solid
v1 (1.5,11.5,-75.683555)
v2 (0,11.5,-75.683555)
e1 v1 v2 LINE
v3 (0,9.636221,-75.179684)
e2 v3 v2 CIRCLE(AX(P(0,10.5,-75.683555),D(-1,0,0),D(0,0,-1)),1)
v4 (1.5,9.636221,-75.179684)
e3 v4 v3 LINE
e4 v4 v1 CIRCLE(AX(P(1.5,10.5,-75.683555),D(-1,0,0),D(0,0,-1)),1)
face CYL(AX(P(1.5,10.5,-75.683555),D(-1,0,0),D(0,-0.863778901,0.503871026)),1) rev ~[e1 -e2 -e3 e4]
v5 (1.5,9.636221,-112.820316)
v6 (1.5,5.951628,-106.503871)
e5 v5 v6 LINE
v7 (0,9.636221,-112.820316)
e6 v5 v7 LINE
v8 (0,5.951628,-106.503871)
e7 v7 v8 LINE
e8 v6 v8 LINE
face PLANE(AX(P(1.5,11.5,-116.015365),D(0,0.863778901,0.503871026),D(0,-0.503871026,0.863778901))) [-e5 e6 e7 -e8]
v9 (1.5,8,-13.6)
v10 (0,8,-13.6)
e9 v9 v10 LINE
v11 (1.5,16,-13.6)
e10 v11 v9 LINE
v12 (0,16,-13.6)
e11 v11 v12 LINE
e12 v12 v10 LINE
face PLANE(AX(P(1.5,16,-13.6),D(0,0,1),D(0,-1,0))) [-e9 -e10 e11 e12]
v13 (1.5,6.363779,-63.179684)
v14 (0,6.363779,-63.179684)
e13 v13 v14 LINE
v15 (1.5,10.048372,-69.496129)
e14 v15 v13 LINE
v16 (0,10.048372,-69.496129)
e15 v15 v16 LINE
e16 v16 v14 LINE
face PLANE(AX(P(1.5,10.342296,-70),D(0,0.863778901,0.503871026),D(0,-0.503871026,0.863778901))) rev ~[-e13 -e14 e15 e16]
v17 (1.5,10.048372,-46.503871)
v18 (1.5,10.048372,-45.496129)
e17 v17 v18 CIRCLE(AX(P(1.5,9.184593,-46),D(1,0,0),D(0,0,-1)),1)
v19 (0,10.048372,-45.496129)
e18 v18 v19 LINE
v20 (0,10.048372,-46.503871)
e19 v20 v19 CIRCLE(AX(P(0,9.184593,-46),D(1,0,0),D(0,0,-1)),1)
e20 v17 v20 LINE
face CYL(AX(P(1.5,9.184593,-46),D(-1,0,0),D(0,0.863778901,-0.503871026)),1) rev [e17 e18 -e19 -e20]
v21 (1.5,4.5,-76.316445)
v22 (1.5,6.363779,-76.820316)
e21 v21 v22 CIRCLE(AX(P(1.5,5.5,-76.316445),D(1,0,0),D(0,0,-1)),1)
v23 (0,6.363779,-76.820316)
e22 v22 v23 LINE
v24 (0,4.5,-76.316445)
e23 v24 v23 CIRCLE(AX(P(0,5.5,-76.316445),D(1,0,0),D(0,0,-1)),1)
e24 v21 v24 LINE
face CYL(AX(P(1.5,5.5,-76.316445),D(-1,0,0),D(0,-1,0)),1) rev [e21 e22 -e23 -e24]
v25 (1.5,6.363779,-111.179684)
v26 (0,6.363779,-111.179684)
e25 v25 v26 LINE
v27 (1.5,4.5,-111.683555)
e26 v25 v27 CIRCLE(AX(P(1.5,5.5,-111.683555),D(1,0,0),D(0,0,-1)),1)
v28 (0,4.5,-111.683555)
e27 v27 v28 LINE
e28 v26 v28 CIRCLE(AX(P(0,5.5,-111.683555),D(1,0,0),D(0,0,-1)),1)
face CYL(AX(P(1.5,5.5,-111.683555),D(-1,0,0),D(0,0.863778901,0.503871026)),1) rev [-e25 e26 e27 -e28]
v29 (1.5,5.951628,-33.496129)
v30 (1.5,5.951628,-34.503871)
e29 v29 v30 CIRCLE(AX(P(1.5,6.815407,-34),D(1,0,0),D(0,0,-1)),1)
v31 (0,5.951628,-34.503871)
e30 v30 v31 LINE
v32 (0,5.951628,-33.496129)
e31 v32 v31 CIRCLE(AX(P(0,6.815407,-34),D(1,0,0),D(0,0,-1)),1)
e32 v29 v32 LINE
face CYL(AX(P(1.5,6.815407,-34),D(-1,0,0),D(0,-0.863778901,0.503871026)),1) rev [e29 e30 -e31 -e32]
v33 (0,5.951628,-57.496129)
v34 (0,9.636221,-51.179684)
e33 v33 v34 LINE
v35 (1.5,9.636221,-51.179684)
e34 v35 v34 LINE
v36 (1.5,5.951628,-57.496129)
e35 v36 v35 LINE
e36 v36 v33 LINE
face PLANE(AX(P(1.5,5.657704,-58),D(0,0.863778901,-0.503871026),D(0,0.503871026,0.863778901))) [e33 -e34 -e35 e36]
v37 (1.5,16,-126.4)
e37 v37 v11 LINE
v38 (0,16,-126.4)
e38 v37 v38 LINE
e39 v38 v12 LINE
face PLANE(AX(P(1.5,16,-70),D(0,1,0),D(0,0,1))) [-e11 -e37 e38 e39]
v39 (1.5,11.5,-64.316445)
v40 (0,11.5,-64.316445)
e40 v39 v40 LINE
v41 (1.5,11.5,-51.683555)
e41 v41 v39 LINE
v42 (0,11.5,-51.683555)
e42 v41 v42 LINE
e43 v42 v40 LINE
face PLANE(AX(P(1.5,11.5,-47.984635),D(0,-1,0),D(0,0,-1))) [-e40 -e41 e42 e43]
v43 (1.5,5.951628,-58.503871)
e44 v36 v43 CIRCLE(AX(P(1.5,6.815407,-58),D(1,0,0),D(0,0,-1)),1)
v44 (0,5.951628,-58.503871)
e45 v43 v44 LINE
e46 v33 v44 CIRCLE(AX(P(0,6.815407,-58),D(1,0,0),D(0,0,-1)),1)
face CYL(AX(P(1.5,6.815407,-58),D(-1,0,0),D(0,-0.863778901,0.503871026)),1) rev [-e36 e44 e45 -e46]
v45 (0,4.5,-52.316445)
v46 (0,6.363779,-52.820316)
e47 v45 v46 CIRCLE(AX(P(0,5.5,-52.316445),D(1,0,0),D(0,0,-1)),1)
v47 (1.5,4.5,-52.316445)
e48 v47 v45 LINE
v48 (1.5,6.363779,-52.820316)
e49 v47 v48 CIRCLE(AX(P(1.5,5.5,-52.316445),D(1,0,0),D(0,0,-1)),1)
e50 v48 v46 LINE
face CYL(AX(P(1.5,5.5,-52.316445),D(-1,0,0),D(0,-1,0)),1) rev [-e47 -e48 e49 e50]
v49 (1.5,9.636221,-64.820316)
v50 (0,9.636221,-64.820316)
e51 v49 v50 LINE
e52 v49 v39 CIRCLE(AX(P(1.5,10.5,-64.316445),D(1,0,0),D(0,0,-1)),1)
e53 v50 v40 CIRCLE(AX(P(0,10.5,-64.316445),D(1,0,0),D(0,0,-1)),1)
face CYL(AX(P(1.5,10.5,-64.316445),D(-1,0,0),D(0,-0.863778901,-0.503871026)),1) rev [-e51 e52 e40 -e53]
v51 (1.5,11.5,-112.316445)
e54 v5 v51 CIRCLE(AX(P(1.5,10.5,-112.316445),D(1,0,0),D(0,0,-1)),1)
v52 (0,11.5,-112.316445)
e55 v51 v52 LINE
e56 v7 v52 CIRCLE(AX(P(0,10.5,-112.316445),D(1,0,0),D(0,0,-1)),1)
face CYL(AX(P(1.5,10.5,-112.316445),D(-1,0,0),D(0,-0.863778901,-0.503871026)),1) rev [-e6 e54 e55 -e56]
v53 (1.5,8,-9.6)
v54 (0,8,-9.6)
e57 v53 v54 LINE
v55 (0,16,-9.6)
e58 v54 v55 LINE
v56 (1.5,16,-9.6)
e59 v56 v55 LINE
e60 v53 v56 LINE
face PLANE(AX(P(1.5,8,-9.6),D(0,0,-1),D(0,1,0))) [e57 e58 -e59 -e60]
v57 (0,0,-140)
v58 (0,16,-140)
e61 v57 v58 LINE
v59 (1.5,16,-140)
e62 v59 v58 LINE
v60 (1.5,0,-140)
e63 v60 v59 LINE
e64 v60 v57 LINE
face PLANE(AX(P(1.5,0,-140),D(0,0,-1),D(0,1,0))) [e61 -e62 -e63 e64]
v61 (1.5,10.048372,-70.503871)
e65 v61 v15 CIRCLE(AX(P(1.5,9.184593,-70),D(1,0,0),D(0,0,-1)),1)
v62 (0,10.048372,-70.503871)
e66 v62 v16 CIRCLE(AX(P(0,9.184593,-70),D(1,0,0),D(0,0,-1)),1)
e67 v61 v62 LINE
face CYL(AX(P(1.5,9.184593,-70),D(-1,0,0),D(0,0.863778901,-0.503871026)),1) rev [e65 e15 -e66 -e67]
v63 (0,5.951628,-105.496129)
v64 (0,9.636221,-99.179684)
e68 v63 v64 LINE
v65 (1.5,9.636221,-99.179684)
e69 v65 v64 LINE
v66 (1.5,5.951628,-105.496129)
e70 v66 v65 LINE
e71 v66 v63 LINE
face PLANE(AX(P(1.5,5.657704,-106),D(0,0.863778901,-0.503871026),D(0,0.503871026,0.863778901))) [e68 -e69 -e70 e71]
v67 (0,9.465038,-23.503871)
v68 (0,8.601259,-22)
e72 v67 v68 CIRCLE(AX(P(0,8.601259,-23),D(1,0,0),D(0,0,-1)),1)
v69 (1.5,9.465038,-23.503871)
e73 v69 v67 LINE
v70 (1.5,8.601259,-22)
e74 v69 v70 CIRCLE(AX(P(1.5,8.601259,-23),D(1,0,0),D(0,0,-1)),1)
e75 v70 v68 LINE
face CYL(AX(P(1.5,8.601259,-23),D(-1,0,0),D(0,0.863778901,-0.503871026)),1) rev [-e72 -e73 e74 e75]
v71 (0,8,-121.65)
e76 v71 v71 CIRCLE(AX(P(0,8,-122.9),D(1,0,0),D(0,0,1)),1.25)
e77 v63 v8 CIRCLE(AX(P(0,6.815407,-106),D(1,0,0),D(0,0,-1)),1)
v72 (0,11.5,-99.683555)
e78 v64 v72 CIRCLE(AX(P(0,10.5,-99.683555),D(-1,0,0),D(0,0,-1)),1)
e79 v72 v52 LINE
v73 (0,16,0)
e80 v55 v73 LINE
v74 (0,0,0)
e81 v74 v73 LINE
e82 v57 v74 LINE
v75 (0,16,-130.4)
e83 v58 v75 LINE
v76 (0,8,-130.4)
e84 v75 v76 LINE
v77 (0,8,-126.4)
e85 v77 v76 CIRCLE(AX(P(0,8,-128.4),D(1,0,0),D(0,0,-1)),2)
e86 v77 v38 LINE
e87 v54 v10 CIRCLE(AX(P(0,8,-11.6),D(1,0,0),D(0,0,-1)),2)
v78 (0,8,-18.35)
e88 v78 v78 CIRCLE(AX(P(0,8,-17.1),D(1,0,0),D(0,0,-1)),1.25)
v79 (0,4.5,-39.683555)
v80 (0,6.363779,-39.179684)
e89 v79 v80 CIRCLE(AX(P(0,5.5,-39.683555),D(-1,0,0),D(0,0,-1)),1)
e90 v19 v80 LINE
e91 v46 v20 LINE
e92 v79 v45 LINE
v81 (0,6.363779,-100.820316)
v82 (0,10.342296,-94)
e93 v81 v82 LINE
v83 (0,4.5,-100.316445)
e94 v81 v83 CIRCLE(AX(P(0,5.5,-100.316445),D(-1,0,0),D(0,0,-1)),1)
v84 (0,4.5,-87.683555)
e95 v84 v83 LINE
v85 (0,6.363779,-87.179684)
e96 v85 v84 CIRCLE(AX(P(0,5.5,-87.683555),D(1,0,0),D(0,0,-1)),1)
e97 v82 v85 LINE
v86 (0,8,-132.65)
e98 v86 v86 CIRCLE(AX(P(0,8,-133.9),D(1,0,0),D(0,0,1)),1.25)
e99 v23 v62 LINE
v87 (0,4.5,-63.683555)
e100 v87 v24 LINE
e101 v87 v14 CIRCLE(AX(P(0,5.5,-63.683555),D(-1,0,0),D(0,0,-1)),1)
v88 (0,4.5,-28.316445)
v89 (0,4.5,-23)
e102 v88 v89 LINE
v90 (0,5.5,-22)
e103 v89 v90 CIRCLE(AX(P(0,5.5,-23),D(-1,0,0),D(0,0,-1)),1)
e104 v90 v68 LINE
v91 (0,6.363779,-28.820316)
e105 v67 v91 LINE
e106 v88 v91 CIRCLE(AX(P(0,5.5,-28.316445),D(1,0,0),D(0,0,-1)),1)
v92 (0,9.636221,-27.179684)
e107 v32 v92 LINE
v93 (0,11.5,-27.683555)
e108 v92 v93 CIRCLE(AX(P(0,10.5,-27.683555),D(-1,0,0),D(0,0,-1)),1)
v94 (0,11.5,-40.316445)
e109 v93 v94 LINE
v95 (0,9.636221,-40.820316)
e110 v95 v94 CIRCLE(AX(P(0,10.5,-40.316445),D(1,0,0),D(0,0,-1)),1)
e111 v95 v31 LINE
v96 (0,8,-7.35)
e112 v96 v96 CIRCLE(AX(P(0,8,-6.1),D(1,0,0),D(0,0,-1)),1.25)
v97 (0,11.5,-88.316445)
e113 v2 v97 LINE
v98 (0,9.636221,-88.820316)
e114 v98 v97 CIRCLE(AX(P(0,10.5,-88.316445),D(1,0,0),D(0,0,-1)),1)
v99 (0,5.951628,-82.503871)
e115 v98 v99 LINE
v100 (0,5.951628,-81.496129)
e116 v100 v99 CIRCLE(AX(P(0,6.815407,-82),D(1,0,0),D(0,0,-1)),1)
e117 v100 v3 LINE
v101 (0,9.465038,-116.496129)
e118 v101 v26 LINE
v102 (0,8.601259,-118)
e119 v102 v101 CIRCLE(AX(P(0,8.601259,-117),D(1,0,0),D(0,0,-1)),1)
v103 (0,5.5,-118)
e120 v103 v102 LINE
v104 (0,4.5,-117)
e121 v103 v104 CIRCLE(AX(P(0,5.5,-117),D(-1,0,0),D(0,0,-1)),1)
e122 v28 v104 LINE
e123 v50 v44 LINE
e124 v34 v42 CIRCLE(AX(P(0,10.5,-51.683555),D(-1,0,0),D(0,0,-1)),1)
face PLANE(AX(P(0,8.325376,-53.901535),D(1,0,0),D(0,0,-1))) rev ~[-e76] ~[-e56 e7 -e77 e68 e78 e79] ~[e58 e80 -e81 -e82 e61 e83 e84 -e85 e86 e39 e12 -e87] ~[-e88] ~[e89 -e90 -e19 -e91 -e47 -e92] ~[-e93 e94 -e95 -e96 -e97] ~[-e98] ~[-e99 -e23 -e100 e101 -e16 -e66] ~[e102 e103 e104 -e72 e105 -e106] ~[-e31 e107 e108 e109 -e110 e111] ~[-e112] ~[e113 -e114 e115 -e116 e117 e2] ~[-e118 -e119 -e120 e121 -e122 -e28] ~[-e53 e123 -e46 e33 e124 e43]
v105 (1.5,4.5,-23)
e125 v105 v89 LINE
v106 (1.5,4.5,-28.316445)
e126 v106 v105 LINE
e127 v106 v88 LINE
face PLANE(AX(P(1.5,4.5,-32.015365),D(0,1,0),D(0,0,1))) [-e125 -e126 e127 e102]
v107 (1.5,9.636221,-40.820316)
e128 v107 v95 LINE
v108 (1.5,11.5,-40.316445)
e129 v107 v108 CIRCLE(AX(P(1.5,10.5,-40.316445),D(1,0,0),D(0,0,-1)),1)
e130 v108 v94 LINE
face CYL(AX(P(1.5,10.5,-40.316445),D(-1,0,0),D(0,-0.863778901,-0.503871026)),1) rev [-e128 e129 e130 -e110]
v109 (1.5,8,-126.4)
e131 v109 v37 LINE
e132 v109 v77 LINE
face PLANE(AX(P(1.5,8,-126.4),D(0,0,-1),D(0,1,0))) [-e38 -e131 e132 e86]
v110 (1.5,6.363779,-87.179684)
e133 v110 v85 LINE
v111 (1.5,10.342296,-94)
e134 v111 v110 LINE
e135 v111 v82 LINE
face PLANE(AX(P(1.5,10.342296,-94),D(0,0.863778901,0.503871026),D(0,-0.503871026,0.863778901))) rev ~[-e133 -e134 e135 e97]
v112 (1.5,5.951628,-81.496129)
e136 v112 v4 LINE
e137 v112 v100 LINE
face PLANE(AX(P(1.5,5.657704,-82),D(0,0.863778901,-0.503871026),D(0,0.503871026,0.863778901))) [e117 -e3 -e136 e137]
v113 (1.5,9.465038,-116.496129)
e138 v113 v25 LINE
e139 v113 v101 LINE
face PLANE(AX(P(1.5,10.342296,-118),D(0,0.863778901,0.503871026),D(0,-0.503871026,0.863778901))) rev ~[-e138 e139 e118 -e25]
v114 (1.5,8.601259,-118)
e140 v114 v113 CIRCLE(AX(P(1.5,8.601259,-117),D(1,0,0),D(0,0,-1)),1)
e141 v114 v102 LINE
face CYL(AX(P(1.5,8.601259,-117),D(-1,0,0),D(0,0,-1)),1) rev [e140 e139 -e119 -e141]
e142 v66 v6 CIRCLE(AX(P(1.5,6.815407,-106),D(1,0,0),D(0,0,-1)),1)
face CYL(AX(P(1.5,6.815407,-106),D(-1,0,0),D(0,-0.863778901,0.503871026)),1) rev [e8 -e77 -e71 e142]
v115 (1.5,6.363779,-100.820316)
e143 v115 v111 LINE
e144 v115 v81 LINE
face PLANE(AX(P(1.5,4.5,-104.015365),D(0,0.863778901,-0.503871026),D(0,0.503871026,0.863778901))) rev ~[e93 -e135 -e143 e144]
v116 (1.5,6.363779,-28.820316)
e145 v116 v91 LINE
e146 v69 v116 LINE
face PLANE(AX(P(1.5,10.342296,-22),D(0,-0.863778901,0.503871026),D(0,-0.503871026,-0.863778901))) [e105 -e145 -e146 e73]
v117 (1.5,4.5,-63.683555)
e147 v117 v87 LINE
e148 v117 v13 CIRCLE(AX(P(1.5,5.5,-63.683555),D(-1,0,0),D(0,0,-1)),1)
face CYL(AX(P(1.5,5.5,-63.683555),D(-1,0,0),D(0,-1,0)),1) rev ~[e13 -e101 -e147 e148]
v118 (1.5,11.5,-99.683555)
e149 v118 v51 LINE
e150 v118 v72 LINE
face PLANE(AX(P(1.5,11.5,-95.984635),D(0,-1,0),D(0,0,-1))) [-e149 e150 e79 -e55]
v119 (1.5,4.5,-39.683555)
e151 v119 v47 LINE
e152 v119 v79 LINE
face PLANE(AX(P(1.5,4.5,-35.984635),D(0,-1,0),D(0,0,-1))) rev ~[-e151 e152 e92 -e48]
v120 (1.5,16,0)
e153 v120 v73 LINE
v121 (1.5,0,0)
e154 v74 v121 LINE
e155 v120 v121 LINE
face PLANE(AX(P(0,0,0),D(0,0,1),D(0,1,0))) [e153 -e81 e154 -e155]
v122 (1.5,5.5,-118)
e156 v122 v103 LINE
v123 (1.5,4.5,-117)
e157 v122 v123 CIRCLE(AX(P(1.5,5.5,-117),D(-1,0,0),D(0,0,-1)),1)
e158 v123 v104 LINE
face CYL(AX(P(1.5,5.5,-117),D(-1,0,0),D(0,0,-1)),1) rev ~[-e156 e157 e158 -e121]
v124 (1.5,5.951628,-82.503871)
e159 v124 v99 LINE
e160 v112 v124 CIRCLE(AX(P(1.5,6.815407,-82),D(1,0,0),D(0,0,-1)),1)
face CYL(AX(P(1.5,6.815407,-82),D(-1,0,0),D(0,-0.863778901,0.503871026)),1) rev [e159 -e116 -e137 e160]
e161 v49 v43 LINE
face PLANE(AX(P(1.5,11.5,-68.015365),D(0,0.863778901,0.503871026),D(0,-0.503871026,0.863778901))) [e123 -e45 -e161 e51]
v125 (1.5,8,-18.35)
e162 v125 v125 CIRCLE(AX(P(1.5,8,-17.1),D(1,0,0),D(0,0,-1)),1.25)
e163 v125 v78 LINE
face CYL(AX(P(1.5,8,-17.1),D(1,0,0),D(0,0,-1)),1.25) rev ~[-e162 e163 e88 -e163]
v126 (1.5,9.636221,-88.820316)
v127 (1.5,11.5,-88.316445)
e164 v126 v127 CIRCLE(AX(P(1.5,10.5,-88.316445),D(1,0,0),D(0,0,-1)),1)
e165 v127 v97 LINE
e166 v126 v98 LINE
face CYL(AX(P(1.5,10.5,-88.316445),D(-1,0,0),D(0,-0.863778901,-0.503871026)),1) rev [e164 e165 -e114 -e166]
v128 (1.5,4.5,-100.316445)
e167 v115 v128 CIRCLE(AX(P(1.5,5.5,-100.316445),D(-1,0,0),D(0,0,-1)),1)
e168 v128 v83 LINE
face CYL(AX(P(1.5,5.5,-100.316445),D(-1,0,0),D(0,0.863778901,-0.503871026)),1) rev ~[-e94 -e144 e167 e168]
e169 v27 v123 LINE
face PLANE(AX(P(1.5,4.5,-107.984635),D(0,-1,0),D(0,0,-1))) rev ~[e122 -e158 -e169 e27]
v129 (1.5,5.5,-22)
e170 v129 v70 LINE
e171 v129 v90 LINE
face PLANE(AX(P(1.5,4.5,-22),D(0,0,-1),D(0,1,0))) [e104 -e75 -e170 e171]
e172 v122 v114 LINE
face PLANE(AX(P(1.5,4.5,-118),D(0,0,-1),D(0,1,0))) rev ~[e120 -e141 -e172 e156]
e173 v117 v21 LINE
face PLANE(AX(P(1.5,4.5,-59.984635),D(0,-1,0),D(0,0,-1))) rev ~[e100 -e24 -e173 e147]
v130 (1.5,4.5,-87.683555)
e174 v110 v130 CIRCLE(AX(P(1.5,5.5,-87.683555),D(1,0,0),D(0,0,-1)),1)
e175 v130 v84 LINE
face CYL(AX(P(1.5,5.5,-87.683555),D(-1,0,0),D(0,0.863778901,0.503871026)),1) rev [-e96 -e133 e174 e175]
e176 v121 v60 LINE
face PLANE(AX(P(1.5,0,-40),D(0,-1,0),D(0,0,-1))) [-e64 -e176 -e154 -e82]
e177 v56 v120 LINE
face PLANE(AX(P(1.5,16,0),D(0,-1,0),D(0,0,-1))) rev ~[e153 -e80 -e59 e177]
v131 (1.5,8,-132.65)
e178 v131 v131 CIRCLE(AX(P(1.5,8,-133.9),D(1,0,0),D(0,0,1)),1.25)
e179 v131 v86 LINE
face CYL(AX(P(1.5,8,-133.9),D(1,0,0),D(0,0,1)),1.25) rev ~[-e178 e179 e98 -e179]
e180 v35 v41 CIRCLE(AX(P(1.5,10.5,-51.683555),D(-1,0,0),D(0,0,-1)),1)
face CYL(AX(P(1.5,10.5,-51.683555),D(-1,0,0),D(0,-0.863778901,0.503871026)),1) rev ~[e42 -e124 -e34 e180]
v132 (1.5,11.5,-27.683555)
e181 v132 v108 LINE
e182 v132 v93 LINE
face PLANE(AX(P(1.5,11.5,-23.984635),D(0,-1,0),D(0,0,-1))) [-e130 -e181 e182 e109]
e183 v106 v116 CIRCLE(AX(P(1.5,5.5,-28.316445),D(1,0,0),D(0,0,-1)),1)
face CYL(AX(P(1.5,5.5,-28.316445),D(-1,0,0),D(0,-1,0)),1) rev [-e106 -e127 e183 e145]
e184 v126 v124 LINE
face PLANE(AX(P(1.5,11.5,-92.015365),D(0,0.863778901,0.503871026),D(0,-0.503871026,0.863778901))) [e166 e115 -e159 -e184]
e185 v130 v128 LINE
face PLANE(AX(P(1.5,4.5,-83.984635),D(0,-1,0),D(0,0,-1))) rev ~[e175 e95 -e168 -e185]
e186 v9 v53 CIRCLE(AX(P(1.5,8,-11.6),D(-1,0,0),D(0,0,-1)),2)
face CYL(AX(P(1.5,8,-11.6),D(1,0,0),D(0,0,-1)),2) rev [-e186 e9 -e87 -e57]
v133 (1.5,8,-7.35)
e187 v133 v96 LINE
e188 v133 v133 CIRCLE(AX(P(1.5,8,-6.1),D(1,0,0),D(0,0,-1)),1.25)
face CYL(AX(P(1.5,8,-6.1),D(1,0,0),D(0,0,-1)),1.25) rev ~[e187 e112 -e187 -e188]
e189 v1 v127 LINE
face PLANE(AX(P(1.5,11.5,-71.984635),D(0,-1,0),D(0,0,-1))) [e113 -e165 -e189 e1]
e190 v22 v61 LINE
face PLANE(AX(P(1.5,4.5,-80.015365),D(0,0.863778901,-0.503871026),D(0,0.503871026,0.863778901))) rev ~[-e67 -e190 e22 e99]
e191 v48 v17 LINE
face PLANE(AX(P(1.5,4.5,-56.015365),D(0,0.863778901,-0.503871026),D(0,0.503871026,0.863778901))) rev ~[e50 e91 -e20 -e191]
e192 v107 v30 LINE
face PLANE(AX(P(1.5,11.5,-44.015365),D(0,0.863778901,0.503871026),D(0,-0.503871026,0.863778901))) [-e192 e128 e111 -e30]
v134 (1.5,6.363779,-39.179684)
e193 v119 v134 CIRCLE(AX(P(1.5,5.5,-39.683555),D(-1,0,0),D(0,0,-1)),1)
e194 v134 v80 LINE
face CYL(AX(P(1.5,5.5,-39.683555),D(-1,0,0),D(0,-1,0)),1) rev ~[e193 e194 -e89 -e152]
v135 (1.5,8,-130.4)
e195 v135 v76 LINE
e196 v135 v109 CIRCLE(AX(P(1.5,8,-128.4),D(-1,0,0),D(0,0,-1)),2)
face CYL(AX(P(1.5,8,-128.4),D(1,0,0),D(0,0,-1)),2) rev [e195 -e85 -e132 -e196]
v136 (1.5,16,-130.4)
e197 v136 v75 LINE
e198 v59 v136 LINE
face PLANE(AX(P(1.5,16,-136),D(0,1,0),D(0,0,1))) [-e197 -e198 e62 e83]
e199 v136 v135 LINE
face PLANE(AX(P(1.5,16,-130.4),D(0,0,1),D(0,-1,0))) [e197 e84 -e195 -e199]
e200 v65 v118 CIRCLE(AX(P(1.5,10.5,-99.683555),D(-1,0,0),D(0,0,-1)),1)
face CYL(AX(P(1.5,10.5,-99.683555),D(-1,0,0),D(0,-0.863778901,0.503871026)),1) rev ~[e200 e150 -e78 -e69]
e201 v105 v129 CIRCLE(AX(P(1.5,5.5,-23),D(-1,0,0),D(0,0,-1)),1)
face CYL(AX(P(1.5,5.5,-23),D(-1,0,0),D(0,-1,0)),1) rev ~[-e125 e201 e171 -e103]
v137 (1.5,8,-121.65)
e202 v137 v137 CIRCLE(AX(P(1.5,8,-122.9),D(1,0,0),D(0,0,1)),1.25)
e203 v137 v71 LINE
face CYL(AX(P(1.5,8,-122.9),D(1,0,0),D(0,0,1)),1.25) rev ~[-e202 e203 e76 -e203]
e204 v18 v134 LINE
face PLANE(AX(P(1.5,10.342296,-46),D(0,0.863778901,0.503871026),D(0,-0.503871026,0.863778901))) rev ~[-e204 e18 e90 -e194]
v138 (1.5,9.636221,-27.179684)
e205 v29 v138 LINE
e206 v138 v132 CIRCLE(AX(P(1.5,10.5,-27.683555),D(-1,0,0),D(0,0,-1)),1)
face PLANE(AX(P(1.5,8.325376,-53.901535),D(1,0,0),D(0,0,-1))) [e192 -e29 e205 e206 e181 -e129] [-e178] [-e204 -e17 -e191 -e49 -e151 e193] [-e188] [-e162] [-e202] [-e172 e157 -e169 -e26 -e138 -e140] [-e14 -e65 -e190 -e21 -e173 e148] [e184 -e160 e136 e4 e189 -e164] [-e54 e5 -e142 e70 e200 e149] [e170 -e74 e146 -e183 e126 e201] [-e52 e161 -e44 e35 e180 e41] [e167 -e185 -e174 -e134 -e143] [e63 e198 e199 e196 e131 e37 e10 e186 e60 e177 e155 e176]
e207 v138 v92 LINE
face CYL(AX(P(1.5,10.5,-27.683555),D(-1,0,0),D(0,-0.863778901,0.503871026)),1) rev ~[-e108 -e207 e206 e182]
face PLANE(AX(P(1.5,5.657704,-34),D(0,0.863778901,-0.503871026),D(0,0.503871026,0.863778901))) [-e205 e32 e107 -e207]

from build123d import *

# Parameters (mm, degrees)
SKETCH1_R           = 1.05
BOSS_EXTRUDE1_DEPTH = 1.5
FILLET1_R           = 1.5
SKETCH2_R           = 1.05
SKETCH2_W           = 4
SKETCH2_H           = 16
BOSS_EXTRUDE2_DEPTH = 1.5
SKETCH4_R           = 1.25
CUT_EXTRUDE2_DEPTH  = 160.067595694
CUT_EXTRUDE4_DEPTH  = 160.067595694
FILLET3_R           = 1
FILLET4_R           = 1.5
SKETCH6_W           = 140
SKETCH6_H           = 59.5
CUT_EXTRUDE5_DEPTH  = 10


with BuildPart() as part:
    # Sketch1 → Boss-Extrude1 (new body)
    with BuildSketch(Plane(origin=(0, 0, 0), x_dir=(0, 0, -1), z_dir=(1, 0, 0))):
        Polygon((0, 0), (0, 75.5), (21.5, 75.5), (40, 0), (35.881667859, 0), (29.755840045, 25), (4, 25), (4, 0), align=None)
        with Locations((5.5, 72.5)):
            Circle(SKETCH1_R, mode=Mode.SUBTRACT)
        with Locations((18.5, 72.5)):
            Circle(SKETCH1_R, mode=Mode.SUBTRACT)
        Polygon((4, 69.5), (18.851866535, 69.5), (4, 29), align=None, mode=Mode.SUBTRACT)
        Polygon((8.260475549, 29), (20.558388216, 62.535546651), (28.775707595, 29), align=None, mode=Mode.SUBTRACT)
    extrude(amount=BOSS_EXTRUDE1_DEPTH)

    # Fillet1
    fillet1_edges = [part.edges().sort_by_distance(p)[0] for p in [
        (0.75, 75.5, -21.5),
        (0.75, 25, -29.755840045),
        (0.75, 25, -4),
        (0.75, 69.5, -4),
        (0.75, 29, -4),
        (0.75, 69.5, -18.851866535),
        (0.75, 29, -8.260475549),
        (0.75, 29, -28.775707595),
        (0.75, 62.535546651, -20.558388216),
    ]]
    fillet(fillet1_edges, radius=FILLET1_R)

    # Sketch2 → Boss-Extrude2 (add)
    # profile 1 of 5: a face of its own
    with BuildSketch(Plane(origin=(1.5, 0, 0), x_dir=(0, 0, -1), z_dir=(1, 0, 0))):
        Polygon((70, 0), (70, 16), (36.079470199, 16), (40, 0), align=None)
    # profile 2 of 5: a face of its own
    with BuildSketch(Plane(origin=(1.5, 0, 0), x_dir=(0, 0, -1), z_dir=(1, 0, 0))):
        with BuildLine():
            Line((103.920529801, 16), (70, 16))
            Line((70, 16), (70, 0))
            Line((70, 0), (140, 0))
            Line((140, 0), (140, 16))
            Line((140, 16), (140, 75.5))
            Line((140, 75.5), (119.676824884, 75.5))
            ThreePointArc((119.676824884, 75.5), (118.750942408, 75.180144754), (118.219924421, 74.356988855))
            Line((118.219924421, 74.356988855), (103.920529801, 16))
        make_face()
        with BuildLine():
            Line((108.038861942, 16), (109.964084377, 23.856988855))
            ThreePointArc((109.964084377, 23.856988855), (110.495102363, 24.680144754), (111.420984839, 25))
            Line((111.420984839, 25), (134.5, 25))
            ThreePointArc((134.5, 25), (135.560660172, 24.560660172), (136, 23.5))
            Line((136, 23.5), (136, 16))
            Line((136, 16), (108.038861942, 16))
        make_face(mode=Mode.SUBTRACT)
        with BuildLine():
            ThreePointArc((131.000070484, 31.016439186), (130.821545012, 29.641122471), (129.591776989, 29))
            Line((129.591776989, 29), (113.136216627, 29))
            ThreePointArc((113.136216627, 29), (111.956071873, 29.574117524), (111.679316165, 30.856988855))
            Line((111.679316165, 30.856988855), (118.270545293, 57.756329353))
            ThreePointArc((118.270545293, 57.756329353), (119.644098522, 58.897023121), (121.135739251, 57.915779684))
            Line((121.135739251, 57.915779684), (131.000070484, 31.016439186))
        make_face(mode=Mode.SUBTRACT)
        with BuildLine():
            ThreePointArc((121.887587432, 67.483560814), (122.066112904, 68.858877529), (123.295880927, 69.5))
            Line((123.295880927, 69.5), (134.5, 69.5))
            ThreePointArc((134.5, 69.5), (135.560660172, 69.060660172), (136, 68))
            Line((136, 68), (136, 37.447151885))
            ThreePointArc((136, 37.447151885), (134.762259183, 35.970256452), (133.091706505, 36.930712699))
            Line((133.091706505, 36.930712699), (121.887587432, 67.483560814))
        make_face(mode=Mode.SUBTRACT)
        with Locations((121.5, 72.5)):
            Circle(SKETCH2_R, mode=Mode.SUBTRACT)
        with Locations((134.5, 72.5)):
            Circle(SKETCH2_R, mode=Mode.SUBTRACT)
    # profile 3 of 5: a face of its own
    with BuildSketch(Plane(origin=(1.5, 0, 0), x_dir=(0, 0, -1), z_dir=(1, 0, 0))):
        Polygon((35.881667859, 0), (31.961138058, 16), (4, 16), (4, 0), align=None)
    # profile 4 of 5: a face of its own
    with BuildSketch(Plane(origin=(1.5, 0, 0), x_dir=(0, 0, -1), z_dir=(1, 0, 0))):
        Polygon((40, 0), (36.079470199, 16), (31.961138058, 16), (35.881667859, 0), align=None)
    # profile 5 of 5: a face of its own
    with BuildSketch(Plane(origin=(1.5, 0, 0), x_dir=(0, 0, -1), z_dir=(1, 0, 0))):
        with Locations((2, 8)):
            Rectangle(SKETCH2_W, SKETCH2_H)
    extrude(amount=-BOSS_EXTRUDE2_DEPTH)

    # Sketch4 → Cut-Extrude2 (cut, through all)
    with BuildSketch(Plane(origin=(1.5, 0, 0), x_dir=(0, 0, -1), z_dir=(1, 0, 0))):
        with Locations((6.1, 8)):
            Circle(SKETCH4_R)
        with Locations((17.1, 8)):
            Circle(SKETCH4_R)
        with Locations(Location((122.9, 8, 0), (0, 0, 180))):
            Circle(SKETCH4_R)
        with Locations(Location((133.9, 8, 0), (0, 0, 180))):
            Circle(SKETCH4_R)
        with BuildLine():
            Line((126.4, 16), (130.4, 16))
            Line((130.4, 16), (130.4, 8))
            ThreePointArc((130.4, 8), (128.4, 6), (126.4, 8))
            Line((126.4, 8), (126.4, 16))
        make_face()
        with BuildLine():
            Line((9.6, 16), (13.6, 16))
            Line((13.6, 16), (13.6, 8))
            ThreePointArc((13.6, 8), (11.6, 6), (9.6, 8))
            Line((9.6, 8), (9.6, 16))
        make_face()
    extrude(amount=-CUT_EXTRUDE2_DEPTH, mode=Mode.SUBTRACT)

    # Sketch5 → Cut-Extrude4 (cut, through all)
    with BuildSketch(Plane(origin=(1.5, 0, 0), x_dir=(0, 0, -1), z_dir=(1, 0, 0))):
        Polygon((35.984634856, 4.5), (46, 4.5), (56.015365144, 4.5), (46, 10.342296334), align=None)
        Polygon((47.984634856, 11.5), (68.015365144, 11.5), (58, 5.657703666), align=None)
        Polygon((59.984634856, 4.5), (70, 4.5), (80.015365144, 4.5), (70, 10.342296334), align=None)
        Polygon((22, 4.5), (22, 10.342296334), (32.015365144, 4.5), align=None)
        Polygon((23.984634856, 11.5), (44.015365144, 11.5), (34, 5.657703666), align=None)
        Polygon((118, 4.5), (118, 10.342296334), (107.984634856, 4.5), align=None)
        Polygon((94, 4.5), (104.015365144, 4.5), (94, 10.342296334), (83.984634856, 4.5), align=None)
        Polygon((95.984634856, 11.5), (116.015365144, 11.5), (106, 5.657703666), align=None)
        Polygon((71.984634856, 11.5), (92.015365144, 11.5), (82, 5.657703666), align=None)
    extrude(amount=-CUT_EXTRUDE4_DEPTH, mode=Mode.SUBTRACT)

    # Fillet3
    fillet3_edges = [part.edges().sort_by_distance(p)[0] for p in [
        (0.75, 4.5, -83.984634856),
        (0.75, 4.5, -104.015365144),
        (0.75, 4.5, -80.015365144),
        (0.75, 4.5, -59.984634856),
        (0.75, 10.342296334, -70),
        (0.75, 4.5, -56.015365144),
        (0.75, 4.5, -35.984634856),
        (0.75, 10.342296334, -46),
        (0.75, 4.5, -118),
        (0.75, 4.5, -107.984634856),
        (0.75, 10.342296334, -118),
        (0.75, 11.5, -44.015365144),
        (0.75, 5.657703666, -34),
        (0.75, 11.5, -23.984634856),
        (0.75, 5.657703666, -58),
        (0.75, 11.5, -47.984634856),
        (0.75, 11.5, -68.015365144),
        (0.75, 11.5, -116.015365144),
        (0.75, 5.657703666, -106),
        (0.75, 11.5, -95.984634856),
        (0.75, 11.5, -92.015365144),
        (0.75, 5.657703666, -82),
        (0.75, 11.5, -71.984634856),
        (0.75, 4.5, -32.015365144),
        (0.75, 4.5, -22),
        (0.75, 10.342296334, -22),
    ]]
    fillet(fillet3_edges, radius=FILLET3_R)

    # Fillet4
    fillet4_edges = [part.edges().sort_by_distance(p)[0] for p in [
        (0.75, 16, -4),
        (0.75, 16, -31.961138058),
        (0.75, 16, -36.079470199),
        (0.75, 16, -136),
        (0.75, 16, -108.038861942),
        (0.75, 16, -103.920529801),
    ]]
    fillet(fillet4_edges, radius=FILLET4_R)

    # Sketch6 → Cut-Extrude5 (cut)
    with BuildSketch(Plane(origin=(1.5, 0, 0), x_dir=(0, 0, -1), z_dir=(1, 0, 0))):
        with Locations((70, 45.75)):
            Rectangle(SKETCH6_W, SKETCH6_H)
    extrude(amount=-CUT_EXTRUDE5_DEPTH, mode=Mode.SUBTRACT)


solid = part.part
